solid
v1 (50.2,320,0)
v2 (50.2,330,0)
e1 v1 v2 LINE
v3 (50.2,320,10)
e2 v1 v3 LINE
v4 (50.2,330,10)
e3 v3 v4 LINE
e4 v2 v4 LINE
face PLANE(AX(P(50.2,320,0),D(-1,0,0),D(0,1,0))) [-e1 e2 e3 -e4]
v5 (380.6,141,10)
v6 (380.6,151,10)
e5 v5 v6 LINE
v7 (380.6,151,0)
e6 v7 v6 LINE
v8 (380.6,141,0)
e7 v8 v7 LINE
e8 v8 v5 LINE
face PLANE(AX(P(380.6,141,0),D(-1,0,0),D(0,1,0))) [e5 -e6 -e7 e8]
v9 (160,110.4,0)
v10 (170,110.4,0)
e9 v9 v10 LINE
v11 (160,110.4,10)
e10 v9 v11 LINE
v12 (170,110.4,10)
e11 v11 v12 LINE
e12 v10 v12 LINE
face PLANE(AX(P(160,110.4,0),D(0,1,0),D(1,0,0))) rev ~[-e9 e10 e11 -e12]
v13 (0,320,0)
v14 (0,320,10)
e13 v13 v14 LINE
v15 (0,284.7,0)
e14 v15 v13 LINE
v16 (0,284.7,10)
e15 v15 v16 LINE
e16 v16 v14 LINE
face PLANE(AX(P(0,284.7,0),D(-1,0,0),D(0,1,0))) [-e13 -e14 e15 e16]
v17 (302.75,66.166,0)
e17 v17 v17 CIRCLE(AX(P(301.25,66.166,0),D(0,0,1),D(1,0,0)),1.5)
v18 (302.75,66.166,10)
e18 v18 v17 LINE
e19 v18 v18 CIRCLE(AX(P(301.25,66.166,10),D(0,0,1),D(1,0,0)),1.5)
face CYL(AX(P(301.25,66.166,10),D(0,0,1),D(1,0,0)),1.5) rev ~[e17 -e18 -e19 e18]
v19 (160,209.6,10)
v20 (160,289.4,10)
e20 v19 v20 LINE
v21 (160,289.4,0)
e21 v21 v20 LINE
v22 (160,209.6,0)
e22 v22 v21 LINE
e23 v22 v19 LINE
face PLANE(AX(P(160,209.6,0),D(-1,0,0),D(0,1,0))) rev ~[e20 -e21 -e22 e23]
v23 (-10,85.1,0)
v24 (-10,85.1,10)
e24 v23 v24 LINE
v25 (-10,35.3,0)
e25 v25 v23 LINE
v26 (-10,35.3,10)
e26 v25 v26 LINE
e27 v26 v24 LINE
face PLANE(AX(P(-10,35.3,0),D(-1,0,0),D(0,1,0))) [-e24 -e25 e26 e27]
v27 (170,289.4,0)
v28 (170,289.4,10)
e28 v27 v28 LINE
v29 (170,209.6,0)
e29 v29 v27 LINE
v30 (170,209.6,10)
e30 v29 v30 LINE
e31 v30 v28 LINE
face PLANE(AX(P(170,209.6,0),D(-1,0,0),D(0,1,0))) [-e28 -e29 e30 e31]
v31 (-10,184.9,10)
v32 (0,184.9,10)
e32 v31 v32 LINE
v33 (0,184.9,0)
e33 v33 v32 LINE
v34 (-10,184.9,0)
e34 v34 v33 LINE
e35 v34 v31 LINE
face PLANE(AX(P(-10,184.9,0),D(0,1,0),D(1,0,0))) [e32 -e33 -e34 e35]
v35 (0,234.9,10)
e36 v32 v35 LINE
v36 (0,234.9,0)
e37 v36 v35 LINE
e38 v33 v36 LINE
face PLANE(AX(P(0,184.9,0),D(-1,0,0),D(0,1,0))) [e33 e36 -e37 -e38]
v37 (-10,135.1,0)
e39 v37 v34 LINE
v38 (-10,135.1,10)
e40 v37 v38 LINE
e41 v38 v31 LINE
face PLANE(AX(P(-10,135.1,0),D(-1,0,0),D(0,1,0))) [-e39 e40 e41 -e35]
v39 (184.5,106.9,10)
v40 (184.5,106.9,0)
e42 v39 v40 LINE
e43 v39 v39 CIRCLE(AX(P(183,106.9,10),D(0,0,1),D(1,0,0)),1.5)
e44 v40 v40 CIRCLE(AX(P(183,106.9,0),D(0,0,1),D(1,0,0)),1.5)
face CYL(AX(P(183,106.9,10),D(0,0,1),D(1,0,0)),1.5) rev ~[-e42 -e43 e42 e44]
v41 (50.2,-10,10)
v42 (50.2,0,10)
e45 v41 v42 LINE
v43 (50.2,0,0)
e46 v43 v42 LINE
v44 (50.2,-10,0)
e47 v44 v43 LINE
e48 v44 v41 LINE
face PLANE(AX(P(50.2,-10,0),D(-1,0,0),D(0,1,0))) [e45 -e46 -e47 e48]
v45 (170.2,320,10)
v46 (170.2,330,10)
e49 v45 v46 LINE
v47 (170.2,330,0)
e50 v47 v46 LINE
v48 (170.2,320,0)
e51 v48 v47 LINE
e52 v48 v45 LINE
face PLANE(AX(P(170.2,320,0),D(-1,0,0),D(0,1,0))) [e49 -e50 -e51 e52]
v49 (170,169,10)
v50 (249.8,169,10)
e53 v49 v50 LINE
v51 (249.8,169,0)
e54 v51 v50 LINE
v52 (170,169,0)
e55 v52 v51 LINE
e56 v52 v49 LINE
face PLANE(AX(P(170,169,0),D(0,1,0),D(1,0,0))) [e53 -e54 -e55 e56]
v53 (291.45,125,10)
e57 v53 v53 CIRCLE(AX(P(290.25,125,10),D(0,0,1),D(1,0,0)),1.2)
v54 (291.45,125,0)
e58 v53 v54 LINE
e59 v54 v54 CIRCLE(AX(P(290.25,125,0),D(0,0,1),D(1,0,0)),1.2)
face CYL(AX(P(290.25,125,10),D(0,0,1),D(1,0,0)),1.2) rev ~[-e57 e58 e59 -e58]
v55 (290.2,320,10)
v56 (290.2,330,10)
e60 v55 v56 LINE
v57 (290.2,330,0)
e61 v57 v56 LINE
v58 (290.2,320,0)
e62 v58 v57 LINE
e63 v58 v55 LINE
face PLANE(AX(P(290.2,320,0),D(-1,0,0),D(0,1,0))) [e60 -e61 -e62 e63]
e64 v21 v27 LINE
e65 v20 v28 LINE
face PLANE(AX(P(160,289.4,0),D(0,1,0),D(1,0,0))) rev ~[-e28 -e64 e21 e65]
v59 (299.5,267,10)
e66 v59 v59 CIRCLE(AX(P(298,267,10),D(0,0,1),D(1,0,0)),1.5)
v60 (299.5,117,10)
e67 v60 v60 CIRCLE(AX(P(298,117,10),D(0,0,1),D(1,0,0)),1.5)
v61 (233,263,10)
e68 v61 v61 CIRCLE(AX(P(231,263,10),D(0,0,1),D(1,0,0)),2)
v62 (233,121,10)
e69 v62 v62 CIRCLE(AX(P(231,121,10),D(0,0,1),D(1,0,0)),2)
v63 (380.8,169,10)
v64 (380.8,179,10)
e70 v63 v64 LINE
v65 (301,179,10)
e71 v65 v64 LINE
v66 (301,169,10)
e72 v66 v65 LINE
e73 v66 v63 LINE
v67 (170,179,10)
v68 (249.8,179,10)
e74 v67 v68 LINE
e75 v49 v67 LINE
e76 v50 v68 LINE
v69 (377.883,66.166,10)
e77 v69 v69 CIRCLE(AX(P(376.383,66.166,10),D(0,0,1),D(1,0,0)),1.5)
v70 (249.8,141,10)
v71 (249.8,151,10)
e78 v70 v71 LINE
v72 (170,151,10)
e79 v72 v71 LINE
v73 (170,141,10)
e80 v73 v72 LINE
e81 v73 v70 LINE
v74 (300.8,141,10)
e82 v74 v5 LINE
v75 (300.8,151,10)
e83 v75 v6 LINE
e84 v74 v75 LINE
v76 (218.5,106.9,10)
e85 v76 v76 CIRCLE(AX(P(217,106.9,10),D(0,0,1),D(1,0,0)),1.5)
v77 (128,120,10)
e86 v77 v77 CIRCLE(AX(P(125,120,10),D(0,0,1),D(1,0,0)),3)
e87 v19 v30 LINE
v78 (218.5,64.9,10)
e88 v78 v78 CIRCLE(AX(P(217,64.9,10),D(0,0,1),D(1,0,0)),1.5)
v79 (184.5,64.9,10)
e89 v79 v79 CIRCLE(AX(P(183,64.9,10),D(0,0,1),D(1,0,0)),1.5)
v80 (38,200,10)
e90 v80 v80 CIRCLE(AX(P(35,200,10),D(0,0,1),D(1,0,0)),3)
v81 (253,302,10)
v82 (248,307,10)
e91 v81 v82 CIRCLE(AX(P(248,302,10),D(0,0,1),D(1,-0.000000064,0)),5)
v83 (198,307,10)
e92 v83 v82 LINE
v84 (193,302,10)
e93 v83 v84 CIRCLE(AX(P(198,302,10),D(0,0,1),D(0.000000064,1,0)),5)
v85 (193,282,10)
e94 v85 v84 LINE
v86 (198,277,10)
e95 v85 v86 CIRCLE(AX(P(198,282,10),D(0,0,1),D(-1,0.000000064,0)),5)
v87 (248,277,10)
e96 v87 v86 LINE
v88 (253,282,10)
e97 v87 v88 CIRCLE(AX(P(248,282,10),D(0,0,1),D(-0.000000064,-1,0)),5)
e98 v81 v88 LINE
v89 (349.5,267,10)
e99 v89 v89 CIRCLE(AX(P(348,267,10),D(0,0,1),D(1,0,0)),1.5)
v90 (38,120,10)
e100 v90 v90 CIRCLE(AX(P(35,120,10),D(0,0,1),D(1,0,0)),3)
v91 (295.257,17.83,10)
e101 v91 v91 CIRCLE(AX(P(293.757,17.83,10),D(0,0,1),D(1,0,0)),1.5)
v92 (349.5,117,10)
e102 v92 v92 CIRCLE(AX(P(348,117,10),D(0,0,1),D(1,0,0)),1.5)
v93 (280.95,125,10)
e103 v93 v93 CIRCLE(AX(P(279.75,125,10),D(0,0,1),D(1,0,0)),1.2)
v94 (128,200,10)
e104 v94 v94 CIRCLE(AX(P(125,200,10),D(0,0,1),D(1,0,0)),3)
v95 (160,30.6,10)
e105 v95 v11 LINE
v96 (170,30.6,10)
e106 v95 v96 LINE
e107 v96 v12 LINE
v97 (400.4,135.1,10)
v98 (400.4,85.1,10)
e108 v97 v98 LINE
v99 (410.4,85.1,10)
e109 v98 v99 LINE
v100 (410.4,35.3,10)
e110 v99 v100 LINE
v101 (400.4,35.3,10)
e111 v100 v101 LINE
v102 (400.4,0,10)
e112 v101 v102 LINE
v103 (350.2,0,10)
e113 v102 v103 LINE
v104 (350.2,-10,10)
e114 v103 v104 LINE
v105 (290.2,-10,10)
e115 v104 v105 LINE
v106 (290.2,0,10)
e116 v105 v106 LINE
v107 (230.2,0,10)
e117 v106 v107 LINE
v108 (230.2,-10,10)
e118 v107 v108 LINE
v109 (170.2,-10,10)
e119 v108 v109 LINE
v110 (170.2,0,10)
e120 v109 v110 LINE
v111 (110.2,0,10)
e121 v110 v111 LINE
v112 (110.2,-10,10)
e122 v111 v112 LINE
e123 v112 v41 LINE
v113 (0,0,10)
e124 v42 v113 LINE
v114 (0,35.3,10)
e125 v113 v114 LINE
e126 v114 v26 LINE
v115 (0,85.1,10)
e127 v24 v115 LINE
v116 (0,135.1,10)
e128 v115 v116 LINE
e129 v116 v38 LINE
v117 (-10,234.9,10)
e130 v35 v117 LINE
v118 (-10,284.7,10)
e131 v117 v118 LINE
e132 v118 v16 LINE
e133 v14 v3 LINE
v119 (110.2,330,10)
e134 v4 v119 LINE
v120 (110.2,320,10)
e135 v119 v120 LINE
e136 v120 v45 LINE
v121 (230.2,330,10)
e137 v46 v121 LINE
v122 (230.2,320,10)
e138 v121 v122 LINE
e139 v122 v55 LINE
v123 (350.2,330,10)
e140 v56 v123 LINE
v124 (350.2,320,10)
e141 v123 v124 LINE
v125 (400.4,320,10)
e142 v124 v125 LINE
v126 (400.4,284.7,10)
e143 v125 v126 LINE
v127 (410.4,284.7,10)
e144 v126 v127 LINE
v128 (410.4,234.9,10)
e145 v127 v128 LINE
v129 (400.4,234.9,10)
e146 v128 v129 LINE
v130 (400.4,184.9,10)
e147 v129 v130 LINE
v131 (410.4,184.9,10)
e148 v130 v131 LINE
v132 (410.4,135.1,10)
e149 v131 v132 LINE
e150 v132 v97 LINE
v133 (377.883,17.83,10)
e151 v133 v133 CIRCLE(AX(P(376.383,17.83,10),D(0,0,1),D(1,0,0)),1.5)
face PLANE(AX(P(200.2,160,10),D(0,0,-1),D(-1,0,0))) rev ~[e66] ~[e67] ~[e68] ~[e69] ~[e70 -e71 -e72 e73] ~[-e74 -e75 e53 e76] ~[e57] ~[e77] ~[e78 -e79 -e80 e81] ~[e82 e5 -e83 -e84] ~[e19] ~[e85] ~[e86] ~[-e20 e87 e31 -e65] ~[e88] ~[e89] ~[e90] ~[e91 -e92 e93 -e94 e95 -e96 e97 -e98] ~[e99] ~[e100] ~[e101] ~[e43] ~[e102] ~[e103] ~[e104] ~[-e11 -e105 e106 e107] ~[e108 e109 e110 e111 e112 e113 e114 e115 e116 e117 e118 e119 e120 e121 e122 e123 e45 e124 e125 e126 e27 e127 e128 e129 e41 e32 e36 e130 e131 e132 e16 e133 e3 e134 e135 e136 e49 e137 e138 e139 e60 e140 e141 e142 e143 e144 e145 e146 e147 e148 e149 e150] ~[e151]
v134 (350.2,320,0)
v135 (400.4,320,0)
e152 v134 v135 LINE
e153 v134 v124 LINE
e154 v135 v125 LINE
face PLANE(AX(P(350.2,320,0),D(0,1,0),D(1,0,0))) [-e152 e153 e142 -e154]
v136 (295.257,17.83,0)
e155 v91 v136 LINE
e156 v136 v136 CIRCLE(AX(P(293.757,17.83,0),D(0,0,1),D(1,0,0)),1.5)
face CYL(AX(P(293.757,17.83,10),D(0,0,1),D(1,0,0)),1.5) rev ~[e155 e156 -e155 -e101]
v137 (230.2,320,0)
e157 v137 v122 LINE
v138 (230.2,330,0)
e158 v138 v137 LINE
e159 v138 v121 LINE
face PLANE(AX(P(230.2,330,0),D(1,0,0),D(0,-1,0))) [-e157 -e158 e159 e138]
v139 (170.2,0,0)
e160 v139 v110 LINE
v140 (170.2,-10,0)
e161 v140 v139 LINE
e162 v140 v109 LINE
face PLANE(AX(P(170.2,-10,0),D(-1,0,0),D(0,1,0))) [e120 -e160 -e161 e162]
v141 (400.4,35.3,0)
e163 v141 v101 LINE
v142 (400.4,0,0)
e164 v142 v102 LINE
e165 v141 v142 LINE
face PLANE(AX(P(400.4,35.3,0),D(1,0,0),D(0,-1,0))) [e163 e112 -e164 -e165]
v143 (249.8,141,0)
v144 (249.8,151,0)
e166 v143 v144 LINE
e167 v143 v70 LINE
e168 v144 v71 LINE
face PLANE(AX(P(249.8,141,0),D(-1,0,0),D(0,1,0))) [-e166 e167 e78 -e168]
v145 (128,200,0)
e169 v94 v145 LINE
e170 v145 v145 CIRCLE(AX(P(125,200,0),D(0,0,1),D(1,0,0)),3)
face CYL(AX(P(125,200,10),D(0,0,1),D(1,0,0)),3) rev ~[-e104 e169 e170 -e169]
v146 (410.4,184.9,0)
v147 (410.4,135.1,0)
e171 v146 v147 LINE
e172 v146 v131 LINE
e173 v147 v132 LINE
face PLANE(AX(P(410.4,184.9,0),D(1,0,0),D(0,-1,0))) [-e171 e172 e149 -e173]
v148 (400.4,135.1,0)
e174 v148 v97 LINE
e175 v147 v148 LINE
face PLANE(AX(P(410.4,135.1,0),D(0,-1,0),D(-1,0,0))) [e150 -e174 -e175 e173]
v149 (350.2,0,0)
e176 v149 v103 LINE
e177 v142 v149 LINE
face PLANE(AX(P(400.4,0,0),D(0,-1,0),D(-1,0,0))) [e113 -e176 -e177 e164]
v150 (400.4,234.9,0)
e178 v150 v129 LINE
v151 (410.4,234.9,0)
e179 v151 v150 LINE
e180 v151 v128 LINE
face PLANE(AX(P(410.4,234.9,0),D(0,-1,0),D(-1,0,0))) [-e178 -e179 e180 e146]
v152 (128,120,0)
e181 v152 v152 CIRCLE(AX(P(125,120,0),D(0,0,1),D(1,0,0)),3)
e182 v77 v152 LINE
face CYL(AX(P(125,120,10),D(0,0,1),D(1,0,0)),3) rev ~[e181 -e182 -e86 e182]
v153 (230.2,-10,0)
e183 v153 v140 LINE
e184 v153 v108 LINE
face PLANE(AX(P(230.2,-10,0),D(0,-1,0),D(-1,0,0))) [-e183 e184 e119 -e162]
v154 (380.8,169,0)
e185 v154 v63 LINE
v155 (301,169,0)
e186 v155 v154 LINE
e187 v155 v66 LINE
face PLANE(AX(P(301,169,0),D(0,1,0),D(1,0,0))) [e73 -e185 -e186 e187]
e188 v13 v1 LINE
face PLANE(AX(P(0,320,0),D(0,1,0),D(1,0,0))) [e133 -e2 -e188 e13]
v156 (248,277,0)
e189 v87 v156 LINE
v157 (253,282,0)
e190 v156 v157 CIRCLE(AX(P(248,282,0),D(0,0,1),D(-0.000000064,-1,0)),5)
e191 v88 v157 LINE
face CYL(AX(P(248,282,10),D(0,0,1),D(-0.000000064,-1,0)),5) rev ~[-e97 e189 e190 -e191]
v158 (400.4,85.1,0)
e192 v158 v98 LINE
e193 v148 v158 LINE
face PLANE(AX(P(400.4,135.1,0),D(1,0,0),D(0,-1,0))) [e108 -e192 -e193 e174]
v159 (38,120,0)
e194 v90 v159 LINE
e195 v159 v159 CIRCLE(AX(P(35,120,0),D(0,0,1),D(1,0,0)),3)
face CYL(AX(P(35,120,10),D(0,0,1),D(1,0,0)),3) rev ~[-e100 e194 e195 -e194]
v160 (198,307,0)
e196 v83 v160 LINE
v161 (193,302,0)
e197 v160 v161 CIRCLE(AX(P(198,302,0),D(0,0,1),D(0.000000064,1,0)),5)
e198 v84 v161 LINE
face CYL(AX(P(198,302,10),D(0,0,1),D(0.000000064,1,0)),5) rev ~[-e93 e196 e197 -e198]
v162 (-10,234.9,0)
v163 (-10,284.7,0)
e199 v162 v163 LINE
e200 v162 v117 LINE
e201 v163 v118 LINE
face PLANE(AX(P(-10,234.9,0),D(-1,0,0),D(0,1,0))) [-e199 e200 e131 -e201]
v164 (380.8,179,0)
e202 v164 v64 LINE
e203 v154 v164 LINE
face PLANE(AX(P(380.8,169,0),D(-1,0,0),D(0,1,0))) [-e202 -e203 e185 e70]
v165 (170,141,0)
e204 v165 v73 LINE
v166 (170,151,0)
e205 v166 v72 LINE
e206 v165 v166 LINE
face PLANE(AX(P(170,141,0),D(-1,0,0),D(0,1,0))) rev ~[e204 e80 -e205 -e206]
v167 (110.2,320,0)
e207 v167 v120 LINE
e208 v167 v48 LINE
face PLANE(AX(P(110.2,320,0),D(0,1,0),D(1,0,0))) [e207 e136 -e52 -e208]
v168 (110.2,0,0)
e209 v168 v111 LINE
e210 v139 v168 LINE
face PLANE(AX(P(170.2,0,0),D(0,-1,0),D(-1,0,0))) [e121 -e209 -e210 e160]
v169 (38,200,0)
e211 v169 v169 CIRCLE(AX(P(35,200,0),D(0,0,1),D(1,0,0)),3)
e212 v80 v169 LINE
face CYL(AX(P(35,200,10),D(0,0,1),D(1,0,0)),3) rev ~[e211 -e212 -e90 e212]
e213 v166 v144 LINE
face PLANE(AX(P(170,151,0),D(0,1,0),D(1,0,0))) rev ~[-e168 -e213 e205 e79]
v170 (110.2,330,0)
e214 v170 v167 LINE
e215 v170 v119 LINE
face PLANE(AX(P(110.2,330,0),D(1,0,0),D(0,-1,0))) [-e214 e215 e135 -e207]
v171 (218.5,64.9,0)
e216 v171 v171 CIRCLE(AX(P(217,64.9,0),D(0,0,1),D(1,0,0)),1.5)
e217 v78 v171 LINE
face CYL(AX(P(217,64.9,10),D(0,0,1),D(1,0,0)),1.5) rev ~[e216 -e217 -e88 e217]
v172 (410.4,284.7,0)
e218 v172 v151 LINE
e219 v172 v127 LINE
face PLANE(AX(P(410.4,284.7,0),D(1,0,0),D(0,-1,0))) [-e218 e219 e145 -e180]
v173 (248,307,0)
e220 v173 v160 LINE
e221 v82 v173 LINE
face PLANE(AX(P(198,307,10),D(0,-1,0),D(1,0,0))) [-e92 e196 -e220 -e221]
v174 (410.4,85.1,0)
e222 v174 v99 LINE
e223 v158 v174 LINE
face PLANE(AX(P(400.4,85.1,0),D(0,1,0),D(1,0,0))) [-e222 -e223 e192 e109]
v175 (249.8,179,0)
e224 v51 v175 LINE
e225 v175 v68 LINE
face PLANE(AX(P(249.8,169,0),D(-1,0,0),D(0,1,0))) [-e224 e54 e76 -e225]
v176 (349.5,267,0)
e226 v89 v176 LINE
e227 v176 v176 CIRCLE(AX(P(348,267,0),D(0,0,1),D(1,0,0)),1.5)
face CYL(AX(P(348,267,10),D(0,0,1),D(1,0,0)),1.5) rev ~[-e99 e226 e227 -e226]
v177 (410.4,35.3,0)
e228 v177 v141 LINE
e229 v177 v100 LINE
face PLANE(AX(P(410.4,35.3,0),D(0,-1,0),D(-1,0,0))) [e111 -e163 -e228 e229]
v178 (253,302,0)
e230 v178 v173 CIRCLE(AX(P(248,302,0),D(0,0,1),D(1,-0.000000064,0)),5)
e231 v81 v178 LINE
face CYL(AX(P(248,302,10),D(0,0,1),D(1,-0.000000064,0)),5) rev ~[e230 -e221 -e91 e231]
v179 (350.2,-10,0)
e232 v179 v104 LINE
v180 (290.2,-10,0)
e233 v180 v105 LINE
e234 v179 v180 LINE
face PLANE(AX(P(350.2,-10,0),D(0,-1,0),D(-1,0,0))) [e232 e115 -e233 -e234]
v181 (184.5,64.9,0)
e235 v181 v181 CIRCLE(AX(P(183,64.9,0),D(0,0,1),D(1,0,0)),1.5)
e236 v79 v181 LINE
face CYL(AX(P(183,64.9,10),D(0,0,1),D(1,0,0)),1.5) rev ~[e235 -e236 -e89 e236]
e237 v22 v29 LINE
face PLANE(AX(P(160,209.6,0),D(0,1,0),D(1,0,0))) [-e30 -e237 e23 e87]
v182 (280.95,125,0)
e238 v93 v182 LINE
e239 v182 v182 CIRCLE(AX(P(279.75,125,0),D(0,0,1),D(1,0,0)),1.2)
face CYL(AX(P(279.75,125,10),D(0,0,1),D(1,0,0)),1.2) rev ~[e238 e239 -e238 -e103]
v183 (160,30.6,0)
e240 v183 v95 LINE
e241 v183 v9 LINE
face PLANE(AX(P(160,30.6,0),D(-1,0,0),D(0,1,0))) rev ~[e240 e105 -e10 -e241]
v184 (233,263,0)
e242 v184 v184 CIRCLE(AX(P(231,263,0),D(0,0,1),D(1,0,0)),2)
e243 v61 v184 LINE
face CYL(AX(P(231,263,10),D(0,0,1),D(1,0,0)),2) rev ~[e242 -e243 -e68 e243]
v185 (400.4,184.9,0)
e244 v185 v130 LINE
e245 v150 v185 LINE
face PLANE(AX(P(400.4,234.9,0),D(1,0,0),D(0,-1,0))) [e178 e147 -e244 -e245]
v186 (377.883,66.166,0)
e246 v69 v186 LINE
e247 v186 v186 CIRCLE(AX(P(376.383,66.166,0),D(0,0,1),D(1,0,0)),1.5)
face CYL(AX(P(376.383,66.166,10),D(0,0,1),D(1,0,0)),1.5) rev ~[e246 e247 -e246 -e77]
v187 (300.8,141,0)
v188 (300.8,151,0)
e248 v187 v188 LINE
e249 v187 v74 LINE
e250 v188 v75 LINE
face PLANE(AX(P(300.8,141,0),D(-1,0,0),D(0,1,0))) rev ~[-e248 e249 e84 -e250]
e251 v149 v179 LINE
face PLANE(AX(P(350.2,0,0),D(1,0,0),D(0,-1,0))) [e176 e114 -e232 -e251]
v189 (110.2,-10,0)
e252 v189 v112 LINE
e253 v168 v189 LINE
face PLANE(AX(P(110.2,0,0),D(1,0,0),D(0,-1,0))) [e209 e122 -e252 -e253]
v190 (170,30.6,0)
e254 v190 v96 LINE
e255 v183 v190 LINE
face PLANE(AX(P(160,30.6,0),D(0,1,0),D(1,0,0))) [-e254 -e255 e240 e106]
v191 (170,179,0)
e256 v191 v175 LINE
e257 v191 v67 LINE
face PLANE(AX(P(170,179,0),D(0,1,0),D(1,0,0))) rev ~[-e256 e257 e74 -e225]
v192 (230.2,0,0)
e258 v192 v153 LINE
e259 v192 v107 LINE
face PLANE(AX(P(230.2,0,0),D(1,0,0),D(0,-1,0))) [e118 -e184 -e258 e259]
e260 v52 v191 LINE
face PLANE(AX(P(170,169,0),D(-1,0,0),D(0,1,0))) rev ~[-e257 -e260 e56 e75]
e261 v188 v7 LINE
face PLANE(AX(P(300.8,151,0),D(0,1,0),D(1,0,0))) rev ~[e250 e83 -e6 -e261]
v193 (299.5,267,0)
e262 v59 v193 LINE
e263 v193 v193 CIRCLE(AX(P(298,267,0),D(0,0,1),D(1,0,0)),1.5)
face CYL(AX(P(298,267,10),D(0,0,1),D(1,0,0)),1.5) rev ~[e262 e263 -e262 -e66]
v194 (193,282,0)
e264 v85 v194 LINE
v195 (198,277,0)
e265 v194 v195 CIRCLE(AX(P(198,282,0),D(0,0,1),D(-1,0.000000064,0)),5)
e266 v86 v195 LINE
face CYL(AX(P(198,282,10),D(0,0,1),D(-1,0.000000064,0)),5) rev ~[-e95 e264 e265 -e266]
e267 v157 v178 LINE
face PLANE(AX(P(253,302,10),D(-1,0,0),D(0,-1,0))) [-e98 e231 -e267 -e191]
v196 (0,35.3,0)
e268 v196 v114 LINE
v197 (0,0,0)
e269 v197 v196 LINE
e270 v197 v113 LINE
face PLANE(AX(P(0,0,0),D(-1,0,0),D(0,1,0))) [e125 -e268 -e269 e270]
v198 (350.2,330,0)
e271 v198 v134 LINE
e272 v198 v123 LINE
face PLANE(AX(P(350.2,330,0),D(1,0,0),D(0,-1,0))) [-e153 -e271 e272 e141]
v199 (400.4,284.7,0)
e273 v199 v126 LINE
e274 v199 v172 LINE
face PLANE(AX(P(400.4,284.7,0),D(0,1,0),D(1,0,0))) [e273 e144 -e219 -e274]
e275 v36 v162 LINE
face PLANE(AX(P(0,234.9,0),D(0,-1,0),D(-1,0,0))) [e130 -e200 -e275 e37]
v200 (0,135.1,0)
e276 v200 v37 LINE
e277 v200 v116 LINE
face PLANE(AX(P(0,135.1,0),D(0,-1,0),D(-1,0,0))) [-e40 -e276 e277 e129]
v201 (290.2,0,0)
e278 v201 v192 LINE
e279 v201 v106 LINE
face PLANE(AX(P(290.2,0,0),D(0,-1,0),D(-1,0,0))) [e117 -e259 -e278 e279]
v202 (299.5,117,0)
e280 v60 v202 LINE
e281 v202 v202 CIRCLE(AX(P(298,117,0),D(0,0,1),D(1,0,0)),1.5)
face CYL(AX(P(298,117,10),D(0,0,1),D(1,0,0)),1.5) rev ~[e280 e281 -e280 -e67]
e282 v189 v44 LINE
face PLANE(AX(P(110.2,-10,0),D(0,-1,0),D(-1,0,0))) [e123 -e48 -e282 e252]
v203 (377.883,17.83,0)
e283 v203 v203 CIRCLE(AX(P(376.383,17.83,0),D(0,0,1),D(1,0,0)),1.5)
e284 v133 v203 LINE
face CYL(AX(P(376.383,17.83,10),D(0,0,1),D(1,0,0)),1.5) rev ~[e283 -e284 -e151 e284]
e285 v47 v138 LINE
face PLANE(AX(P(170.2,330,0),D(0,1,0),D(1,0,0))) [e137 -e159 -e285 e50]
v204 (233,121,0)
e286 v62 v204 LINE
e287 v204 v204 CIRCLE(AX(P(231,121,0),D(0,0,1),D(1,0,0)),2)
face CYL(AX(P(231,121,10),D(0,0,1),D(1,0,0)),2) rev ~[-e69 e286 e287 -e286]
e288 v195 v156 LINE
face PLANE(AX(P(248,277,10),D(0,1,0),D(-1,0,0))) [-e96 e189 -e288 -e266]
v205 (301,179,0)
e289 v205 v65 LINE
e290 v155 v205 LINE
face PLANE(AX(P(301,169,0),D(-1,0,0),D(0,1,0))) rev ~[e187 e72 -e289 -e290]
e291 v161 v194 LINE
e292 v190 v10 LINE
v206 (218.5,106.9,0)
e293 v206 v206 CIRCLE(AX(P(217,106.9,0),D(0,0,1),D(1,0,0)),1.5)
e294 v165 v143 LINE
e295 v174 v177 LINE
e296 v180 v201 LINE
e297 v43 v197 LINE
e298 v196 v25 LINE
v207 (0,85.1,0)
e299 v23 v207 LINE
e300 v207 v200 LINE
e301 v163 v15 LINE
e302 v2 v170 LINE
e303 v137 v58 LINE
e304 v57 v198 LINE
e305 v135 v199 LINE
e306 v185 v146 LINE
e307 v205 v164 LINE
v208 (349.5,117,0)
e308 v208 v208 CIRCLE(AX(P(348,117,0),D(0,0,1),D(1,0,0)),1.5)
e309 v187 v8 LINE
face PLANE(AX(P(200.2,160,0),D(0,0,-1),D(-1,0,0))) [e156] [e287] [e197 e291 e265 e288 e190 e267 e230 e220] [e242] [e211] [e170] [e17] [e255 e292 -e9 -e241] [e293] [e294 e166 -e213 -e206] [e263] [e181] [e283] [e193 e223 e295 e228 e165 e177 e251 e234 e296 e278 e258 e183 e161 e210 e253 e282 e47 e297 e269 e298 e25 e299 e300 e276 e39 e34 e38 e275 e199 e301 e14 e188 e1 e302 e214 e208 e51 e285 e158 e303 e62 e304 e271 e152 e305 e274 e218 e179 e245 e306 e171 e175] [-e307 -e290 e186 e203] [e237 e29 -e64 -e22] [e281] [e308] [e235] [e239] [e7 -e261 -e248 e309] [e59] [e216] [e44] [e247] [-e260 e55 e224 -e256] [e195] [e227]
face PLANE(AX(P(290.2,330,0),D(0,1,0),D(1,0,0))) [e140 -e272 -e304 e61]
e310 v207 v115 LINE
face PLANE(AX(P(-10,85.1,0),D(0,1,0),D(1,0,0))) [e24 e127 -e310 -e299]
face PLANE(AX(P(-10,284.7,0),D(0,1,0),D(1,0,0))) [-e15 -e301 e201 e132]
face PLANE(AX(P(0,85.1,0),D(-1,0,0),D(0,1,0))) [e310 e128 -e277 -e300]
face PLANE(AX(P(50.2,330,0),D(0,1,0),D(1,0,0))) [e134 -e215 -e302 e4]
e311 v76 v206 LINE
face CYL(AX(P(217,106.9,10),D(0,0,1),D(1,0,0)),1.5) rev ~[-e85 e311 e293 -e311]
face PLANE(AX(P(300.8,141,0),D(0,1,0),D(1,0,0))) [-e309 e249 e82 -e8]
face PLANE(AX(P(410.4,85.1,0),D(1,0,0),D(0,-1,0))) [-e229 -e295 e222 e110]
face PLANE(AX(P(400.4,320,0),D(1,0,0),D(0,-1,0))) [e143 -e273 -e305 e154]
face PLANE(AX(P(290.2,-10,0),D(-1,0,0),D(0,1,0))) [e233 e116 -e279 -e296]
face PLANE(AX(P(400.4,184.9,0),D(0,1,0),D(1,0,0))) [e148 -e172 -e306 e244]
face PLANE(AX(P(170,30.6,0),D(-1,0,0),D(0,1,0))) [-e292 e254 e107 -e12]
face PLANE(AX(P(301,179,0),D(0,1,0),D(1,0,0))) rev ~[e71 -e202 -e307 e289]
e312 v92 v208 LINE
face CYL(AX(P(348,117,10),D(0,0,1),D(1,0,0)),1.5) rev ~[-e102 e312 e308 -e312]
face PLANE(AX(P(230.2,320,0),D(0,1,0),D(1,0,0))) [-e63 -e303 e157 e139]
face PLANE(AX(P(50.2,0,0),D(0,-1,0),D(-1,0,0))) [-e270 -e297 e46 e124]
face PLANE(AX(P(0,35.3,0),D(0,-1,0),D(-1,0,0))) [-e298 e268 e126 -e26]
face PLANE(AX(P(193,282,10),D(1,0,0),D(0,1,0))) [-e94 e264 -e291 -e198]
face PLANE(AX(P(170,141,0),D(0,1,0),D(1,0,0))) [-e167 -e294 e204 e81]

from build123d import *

# Parameters (mm, degrees)
SKETCH_W        = 10
SKETCH_H        = 79.8
SKETCH_W_2      = 79.8
SKETCH_H_2      = 10
PAD_DEPTH       = 10
SKETCH001_R     = 3
POCKET_DEPTH    = 10.001
SKETCH002_R     = 1.5
POCKET001_DEPTH = 10.001
SKETCH003_R     = 1.5
POCKET002_DEPTH = 10.001
SKETCH004_R     = 2
POCKET003_DEPTH = 10.001
POCKET004_DEPTH = 10.001
SKETCH006_R     = 1.2
POCKET005_DEPTH = 10.001
SKETCH007_R     = 1.5
POCKET006_DEPTH = 10.001


with BuildPart() as part:
    # Sketch → Pad (new body)
    with BuildSketch(Plane.XY):
        Polygon((0, 0), (0, 35.3), (-10, 35.3), (-10, 85.1), (0, 85.1), (0, 135.1), (-10, 135.1), (-10, 184.9), (0, 184.9), (0, 234.9), (-10, 234.9), (-10, 284.7), (0, 284.7), (0, 320), (50.2, 320), (50.2, 330), (110.2, 330), (110.2, 320), (170.2, 320), (170.2, 330), (230.2, 330), (230.2, 320), (290.2, 320), (290.2, 330), (350.2, 330), (350.2, 320), (400.4, 320), (400.4, 284.7), (410.4, 284.7), (410.4, 234.9), (400.4, 234.9), (400.4, 184.9), (410.4, 184.9), (410.4, 135.1), (400.4, 135.1), (400.4, 85.1), (410.4, 85.1), (410.4, 35.3), (400.4, 35.3), (400.4, 0), (350.2, 0), (350.2, -10), (290.2, -10), (290.2, 0), (230.2, 0), (230.2, -10), (170.2, -10), (170.2, 0), (110.2, 0), (110.2, -10), (50.2, -10), (50.2, 0), align=None)
        with Locations((165, 249.5)):
            Rectangle(SKETCH_W, SKETCH_H, mode=Mode.SUBTRACT)
        with Locations((165, 70.5)):
            Rectangle(SKETCH_W, SKETCH_H, mode=Mode.SUBTRACT)
        with Locations((209.9, 174)):
            Rectangle(SKETCH_W_2, SKETCH_H_2, mode=Mode.SUBTRACT)
        with Locations((340.9, 174)):
            Rectangle(SKETCH_W_2, SKETCH_H_2, mode=Mode.SUBTRACT)
        with Locations((209.9, 146)):
            Rectangle(SKETCH_W_2, SKETCH_H_2, mode=Mode.SUBTRACT)
        with Locations((340.7, 146)):
            Rectangle(SKETCH_W_2, SKETCH_H_2, mode=Mode.SUBTRACT)
    extrude(amount=PAD_DEPTH)

    # Sketch001 (on DatumPlane) → Pocket (cut, through all)
    with BuildSketch(Plane.XY.offset(10)):
        with Locations((35, 120)):
            Circle(SKETCH001_R)
        with Locations((125, 120)):
            Circle(SKETCH001_R)
        with Locations((125, 200)):
            Circle(SKETCH001_R)
        with Locations((35, 200)):
            Circle(SKETCH001_R)
    extrude(amount=-POCKET_DEPTH, mode=Mode.SUBTRACT)

    # Sketch002 (on DatumPlane) → Pocket001 (cut, through all)
    with BuildSketch(Plane.XY.offset(10)):
        with Locations((298, 267)):
            Circle(SKETCH002_R)
        with Locations((348, 267)):
            Circle(SKETCH002_R)
        with Locations((298, 117)):
            Circle(SKETCH002_R)
        with Locations((348, 117)):
            Circle(SKETCH002_R)
    extrude(amount=-POCKET001_DEPTH, mode=Mode.SUBTRACT)

    # Sketch003 (on DatumPlane) → Pocket002 (cut, through all)
    with BuildSketch(Plane.XY.offset(10)):
        with Locations((376.383, 66.166)):
            Circle(SKETCH003_R)
        with Locations((376.383, 17.83)):
            Circle(SKETCH003_R)
        with Locations((293.757, 17.83)):
            Circle(SKETCH003_R)
        with Locations((301.25, 66.166)):
            Circle(SKETCH003_R)
    extrude(amount=-POCKET002_DEPTH, mode=Mode.SUBTRACT)

    # Sketch004 (on DatumPlane) → Pocket003 (cut, through all)
    with BuildSketch(Plane.XY.offset(10)):
        with Locations((231, 263)):
            Circle(SKETCH004_R)
        with Locations((231, 121)):
            Circle(SKETCH004_R)
    extrude(amount=-POCKET003_DEPTH, mode=Mode.SUBTRACT)

    # Sketch005 (on DatumPlane) → Pocket004 (cut, through all)
    with BuildSketch(Plane.XY.offset(10)):
        with BuildLine():
            Line((198, 307), (248, 307))
            ThreePointArc((253, 302), (251.535534, 305.535534), (248, 307))
            Line((253, 302), (253, 282))
            ThreePointArc((248, 277), (251.535534, 278.464466), (253, 282))
            Line((248, 277), (198, 277))
            ThreePointArc((193, 282), (194.464466, 278.464466), (198, 277))
            Line((193, 282), (193, 302))
            ThreePointArc((198, 307), (194.464466, 305.535534), (193, 302))
        make_face()
    extrude(amount=-POCKET004_DEPTH, mode=Mode.SUBTRACT)

    # Sketch006 (on DatumPlane) → Pocket005 (cut, through all)
    with BuildSketch(Plane.XY.offset(10)):
        with Locations((279.75, 125)):
            Circle(SKETCH006_R)
        with Locations((290.25, 125)):
            Circle(SKETCH006_R)
    extrude(amount=-POCKET005_DEPTH, mode=Mode.SUBTRACT)

    # Sketch007 (on DatumPlane) → Pocket006 (cut, through all)
    with BuildSketch(Plane.XY.offset(10)):
        with Locations((183, 106.9)):
            Circle(SKETCH007_R)
        with Locations((217, 106.9)):
            Circle(SKETCH007_R)
        with Locations((217, 64.9)):
            Circle(SKETCH007_R)
        with Locations((183, 64.9)):
            Circle(SKETCH007_R)
    extrude(amount=-POCKET006_DEPTH, mode=Mode.SUBTRACT)


solid = part.part
